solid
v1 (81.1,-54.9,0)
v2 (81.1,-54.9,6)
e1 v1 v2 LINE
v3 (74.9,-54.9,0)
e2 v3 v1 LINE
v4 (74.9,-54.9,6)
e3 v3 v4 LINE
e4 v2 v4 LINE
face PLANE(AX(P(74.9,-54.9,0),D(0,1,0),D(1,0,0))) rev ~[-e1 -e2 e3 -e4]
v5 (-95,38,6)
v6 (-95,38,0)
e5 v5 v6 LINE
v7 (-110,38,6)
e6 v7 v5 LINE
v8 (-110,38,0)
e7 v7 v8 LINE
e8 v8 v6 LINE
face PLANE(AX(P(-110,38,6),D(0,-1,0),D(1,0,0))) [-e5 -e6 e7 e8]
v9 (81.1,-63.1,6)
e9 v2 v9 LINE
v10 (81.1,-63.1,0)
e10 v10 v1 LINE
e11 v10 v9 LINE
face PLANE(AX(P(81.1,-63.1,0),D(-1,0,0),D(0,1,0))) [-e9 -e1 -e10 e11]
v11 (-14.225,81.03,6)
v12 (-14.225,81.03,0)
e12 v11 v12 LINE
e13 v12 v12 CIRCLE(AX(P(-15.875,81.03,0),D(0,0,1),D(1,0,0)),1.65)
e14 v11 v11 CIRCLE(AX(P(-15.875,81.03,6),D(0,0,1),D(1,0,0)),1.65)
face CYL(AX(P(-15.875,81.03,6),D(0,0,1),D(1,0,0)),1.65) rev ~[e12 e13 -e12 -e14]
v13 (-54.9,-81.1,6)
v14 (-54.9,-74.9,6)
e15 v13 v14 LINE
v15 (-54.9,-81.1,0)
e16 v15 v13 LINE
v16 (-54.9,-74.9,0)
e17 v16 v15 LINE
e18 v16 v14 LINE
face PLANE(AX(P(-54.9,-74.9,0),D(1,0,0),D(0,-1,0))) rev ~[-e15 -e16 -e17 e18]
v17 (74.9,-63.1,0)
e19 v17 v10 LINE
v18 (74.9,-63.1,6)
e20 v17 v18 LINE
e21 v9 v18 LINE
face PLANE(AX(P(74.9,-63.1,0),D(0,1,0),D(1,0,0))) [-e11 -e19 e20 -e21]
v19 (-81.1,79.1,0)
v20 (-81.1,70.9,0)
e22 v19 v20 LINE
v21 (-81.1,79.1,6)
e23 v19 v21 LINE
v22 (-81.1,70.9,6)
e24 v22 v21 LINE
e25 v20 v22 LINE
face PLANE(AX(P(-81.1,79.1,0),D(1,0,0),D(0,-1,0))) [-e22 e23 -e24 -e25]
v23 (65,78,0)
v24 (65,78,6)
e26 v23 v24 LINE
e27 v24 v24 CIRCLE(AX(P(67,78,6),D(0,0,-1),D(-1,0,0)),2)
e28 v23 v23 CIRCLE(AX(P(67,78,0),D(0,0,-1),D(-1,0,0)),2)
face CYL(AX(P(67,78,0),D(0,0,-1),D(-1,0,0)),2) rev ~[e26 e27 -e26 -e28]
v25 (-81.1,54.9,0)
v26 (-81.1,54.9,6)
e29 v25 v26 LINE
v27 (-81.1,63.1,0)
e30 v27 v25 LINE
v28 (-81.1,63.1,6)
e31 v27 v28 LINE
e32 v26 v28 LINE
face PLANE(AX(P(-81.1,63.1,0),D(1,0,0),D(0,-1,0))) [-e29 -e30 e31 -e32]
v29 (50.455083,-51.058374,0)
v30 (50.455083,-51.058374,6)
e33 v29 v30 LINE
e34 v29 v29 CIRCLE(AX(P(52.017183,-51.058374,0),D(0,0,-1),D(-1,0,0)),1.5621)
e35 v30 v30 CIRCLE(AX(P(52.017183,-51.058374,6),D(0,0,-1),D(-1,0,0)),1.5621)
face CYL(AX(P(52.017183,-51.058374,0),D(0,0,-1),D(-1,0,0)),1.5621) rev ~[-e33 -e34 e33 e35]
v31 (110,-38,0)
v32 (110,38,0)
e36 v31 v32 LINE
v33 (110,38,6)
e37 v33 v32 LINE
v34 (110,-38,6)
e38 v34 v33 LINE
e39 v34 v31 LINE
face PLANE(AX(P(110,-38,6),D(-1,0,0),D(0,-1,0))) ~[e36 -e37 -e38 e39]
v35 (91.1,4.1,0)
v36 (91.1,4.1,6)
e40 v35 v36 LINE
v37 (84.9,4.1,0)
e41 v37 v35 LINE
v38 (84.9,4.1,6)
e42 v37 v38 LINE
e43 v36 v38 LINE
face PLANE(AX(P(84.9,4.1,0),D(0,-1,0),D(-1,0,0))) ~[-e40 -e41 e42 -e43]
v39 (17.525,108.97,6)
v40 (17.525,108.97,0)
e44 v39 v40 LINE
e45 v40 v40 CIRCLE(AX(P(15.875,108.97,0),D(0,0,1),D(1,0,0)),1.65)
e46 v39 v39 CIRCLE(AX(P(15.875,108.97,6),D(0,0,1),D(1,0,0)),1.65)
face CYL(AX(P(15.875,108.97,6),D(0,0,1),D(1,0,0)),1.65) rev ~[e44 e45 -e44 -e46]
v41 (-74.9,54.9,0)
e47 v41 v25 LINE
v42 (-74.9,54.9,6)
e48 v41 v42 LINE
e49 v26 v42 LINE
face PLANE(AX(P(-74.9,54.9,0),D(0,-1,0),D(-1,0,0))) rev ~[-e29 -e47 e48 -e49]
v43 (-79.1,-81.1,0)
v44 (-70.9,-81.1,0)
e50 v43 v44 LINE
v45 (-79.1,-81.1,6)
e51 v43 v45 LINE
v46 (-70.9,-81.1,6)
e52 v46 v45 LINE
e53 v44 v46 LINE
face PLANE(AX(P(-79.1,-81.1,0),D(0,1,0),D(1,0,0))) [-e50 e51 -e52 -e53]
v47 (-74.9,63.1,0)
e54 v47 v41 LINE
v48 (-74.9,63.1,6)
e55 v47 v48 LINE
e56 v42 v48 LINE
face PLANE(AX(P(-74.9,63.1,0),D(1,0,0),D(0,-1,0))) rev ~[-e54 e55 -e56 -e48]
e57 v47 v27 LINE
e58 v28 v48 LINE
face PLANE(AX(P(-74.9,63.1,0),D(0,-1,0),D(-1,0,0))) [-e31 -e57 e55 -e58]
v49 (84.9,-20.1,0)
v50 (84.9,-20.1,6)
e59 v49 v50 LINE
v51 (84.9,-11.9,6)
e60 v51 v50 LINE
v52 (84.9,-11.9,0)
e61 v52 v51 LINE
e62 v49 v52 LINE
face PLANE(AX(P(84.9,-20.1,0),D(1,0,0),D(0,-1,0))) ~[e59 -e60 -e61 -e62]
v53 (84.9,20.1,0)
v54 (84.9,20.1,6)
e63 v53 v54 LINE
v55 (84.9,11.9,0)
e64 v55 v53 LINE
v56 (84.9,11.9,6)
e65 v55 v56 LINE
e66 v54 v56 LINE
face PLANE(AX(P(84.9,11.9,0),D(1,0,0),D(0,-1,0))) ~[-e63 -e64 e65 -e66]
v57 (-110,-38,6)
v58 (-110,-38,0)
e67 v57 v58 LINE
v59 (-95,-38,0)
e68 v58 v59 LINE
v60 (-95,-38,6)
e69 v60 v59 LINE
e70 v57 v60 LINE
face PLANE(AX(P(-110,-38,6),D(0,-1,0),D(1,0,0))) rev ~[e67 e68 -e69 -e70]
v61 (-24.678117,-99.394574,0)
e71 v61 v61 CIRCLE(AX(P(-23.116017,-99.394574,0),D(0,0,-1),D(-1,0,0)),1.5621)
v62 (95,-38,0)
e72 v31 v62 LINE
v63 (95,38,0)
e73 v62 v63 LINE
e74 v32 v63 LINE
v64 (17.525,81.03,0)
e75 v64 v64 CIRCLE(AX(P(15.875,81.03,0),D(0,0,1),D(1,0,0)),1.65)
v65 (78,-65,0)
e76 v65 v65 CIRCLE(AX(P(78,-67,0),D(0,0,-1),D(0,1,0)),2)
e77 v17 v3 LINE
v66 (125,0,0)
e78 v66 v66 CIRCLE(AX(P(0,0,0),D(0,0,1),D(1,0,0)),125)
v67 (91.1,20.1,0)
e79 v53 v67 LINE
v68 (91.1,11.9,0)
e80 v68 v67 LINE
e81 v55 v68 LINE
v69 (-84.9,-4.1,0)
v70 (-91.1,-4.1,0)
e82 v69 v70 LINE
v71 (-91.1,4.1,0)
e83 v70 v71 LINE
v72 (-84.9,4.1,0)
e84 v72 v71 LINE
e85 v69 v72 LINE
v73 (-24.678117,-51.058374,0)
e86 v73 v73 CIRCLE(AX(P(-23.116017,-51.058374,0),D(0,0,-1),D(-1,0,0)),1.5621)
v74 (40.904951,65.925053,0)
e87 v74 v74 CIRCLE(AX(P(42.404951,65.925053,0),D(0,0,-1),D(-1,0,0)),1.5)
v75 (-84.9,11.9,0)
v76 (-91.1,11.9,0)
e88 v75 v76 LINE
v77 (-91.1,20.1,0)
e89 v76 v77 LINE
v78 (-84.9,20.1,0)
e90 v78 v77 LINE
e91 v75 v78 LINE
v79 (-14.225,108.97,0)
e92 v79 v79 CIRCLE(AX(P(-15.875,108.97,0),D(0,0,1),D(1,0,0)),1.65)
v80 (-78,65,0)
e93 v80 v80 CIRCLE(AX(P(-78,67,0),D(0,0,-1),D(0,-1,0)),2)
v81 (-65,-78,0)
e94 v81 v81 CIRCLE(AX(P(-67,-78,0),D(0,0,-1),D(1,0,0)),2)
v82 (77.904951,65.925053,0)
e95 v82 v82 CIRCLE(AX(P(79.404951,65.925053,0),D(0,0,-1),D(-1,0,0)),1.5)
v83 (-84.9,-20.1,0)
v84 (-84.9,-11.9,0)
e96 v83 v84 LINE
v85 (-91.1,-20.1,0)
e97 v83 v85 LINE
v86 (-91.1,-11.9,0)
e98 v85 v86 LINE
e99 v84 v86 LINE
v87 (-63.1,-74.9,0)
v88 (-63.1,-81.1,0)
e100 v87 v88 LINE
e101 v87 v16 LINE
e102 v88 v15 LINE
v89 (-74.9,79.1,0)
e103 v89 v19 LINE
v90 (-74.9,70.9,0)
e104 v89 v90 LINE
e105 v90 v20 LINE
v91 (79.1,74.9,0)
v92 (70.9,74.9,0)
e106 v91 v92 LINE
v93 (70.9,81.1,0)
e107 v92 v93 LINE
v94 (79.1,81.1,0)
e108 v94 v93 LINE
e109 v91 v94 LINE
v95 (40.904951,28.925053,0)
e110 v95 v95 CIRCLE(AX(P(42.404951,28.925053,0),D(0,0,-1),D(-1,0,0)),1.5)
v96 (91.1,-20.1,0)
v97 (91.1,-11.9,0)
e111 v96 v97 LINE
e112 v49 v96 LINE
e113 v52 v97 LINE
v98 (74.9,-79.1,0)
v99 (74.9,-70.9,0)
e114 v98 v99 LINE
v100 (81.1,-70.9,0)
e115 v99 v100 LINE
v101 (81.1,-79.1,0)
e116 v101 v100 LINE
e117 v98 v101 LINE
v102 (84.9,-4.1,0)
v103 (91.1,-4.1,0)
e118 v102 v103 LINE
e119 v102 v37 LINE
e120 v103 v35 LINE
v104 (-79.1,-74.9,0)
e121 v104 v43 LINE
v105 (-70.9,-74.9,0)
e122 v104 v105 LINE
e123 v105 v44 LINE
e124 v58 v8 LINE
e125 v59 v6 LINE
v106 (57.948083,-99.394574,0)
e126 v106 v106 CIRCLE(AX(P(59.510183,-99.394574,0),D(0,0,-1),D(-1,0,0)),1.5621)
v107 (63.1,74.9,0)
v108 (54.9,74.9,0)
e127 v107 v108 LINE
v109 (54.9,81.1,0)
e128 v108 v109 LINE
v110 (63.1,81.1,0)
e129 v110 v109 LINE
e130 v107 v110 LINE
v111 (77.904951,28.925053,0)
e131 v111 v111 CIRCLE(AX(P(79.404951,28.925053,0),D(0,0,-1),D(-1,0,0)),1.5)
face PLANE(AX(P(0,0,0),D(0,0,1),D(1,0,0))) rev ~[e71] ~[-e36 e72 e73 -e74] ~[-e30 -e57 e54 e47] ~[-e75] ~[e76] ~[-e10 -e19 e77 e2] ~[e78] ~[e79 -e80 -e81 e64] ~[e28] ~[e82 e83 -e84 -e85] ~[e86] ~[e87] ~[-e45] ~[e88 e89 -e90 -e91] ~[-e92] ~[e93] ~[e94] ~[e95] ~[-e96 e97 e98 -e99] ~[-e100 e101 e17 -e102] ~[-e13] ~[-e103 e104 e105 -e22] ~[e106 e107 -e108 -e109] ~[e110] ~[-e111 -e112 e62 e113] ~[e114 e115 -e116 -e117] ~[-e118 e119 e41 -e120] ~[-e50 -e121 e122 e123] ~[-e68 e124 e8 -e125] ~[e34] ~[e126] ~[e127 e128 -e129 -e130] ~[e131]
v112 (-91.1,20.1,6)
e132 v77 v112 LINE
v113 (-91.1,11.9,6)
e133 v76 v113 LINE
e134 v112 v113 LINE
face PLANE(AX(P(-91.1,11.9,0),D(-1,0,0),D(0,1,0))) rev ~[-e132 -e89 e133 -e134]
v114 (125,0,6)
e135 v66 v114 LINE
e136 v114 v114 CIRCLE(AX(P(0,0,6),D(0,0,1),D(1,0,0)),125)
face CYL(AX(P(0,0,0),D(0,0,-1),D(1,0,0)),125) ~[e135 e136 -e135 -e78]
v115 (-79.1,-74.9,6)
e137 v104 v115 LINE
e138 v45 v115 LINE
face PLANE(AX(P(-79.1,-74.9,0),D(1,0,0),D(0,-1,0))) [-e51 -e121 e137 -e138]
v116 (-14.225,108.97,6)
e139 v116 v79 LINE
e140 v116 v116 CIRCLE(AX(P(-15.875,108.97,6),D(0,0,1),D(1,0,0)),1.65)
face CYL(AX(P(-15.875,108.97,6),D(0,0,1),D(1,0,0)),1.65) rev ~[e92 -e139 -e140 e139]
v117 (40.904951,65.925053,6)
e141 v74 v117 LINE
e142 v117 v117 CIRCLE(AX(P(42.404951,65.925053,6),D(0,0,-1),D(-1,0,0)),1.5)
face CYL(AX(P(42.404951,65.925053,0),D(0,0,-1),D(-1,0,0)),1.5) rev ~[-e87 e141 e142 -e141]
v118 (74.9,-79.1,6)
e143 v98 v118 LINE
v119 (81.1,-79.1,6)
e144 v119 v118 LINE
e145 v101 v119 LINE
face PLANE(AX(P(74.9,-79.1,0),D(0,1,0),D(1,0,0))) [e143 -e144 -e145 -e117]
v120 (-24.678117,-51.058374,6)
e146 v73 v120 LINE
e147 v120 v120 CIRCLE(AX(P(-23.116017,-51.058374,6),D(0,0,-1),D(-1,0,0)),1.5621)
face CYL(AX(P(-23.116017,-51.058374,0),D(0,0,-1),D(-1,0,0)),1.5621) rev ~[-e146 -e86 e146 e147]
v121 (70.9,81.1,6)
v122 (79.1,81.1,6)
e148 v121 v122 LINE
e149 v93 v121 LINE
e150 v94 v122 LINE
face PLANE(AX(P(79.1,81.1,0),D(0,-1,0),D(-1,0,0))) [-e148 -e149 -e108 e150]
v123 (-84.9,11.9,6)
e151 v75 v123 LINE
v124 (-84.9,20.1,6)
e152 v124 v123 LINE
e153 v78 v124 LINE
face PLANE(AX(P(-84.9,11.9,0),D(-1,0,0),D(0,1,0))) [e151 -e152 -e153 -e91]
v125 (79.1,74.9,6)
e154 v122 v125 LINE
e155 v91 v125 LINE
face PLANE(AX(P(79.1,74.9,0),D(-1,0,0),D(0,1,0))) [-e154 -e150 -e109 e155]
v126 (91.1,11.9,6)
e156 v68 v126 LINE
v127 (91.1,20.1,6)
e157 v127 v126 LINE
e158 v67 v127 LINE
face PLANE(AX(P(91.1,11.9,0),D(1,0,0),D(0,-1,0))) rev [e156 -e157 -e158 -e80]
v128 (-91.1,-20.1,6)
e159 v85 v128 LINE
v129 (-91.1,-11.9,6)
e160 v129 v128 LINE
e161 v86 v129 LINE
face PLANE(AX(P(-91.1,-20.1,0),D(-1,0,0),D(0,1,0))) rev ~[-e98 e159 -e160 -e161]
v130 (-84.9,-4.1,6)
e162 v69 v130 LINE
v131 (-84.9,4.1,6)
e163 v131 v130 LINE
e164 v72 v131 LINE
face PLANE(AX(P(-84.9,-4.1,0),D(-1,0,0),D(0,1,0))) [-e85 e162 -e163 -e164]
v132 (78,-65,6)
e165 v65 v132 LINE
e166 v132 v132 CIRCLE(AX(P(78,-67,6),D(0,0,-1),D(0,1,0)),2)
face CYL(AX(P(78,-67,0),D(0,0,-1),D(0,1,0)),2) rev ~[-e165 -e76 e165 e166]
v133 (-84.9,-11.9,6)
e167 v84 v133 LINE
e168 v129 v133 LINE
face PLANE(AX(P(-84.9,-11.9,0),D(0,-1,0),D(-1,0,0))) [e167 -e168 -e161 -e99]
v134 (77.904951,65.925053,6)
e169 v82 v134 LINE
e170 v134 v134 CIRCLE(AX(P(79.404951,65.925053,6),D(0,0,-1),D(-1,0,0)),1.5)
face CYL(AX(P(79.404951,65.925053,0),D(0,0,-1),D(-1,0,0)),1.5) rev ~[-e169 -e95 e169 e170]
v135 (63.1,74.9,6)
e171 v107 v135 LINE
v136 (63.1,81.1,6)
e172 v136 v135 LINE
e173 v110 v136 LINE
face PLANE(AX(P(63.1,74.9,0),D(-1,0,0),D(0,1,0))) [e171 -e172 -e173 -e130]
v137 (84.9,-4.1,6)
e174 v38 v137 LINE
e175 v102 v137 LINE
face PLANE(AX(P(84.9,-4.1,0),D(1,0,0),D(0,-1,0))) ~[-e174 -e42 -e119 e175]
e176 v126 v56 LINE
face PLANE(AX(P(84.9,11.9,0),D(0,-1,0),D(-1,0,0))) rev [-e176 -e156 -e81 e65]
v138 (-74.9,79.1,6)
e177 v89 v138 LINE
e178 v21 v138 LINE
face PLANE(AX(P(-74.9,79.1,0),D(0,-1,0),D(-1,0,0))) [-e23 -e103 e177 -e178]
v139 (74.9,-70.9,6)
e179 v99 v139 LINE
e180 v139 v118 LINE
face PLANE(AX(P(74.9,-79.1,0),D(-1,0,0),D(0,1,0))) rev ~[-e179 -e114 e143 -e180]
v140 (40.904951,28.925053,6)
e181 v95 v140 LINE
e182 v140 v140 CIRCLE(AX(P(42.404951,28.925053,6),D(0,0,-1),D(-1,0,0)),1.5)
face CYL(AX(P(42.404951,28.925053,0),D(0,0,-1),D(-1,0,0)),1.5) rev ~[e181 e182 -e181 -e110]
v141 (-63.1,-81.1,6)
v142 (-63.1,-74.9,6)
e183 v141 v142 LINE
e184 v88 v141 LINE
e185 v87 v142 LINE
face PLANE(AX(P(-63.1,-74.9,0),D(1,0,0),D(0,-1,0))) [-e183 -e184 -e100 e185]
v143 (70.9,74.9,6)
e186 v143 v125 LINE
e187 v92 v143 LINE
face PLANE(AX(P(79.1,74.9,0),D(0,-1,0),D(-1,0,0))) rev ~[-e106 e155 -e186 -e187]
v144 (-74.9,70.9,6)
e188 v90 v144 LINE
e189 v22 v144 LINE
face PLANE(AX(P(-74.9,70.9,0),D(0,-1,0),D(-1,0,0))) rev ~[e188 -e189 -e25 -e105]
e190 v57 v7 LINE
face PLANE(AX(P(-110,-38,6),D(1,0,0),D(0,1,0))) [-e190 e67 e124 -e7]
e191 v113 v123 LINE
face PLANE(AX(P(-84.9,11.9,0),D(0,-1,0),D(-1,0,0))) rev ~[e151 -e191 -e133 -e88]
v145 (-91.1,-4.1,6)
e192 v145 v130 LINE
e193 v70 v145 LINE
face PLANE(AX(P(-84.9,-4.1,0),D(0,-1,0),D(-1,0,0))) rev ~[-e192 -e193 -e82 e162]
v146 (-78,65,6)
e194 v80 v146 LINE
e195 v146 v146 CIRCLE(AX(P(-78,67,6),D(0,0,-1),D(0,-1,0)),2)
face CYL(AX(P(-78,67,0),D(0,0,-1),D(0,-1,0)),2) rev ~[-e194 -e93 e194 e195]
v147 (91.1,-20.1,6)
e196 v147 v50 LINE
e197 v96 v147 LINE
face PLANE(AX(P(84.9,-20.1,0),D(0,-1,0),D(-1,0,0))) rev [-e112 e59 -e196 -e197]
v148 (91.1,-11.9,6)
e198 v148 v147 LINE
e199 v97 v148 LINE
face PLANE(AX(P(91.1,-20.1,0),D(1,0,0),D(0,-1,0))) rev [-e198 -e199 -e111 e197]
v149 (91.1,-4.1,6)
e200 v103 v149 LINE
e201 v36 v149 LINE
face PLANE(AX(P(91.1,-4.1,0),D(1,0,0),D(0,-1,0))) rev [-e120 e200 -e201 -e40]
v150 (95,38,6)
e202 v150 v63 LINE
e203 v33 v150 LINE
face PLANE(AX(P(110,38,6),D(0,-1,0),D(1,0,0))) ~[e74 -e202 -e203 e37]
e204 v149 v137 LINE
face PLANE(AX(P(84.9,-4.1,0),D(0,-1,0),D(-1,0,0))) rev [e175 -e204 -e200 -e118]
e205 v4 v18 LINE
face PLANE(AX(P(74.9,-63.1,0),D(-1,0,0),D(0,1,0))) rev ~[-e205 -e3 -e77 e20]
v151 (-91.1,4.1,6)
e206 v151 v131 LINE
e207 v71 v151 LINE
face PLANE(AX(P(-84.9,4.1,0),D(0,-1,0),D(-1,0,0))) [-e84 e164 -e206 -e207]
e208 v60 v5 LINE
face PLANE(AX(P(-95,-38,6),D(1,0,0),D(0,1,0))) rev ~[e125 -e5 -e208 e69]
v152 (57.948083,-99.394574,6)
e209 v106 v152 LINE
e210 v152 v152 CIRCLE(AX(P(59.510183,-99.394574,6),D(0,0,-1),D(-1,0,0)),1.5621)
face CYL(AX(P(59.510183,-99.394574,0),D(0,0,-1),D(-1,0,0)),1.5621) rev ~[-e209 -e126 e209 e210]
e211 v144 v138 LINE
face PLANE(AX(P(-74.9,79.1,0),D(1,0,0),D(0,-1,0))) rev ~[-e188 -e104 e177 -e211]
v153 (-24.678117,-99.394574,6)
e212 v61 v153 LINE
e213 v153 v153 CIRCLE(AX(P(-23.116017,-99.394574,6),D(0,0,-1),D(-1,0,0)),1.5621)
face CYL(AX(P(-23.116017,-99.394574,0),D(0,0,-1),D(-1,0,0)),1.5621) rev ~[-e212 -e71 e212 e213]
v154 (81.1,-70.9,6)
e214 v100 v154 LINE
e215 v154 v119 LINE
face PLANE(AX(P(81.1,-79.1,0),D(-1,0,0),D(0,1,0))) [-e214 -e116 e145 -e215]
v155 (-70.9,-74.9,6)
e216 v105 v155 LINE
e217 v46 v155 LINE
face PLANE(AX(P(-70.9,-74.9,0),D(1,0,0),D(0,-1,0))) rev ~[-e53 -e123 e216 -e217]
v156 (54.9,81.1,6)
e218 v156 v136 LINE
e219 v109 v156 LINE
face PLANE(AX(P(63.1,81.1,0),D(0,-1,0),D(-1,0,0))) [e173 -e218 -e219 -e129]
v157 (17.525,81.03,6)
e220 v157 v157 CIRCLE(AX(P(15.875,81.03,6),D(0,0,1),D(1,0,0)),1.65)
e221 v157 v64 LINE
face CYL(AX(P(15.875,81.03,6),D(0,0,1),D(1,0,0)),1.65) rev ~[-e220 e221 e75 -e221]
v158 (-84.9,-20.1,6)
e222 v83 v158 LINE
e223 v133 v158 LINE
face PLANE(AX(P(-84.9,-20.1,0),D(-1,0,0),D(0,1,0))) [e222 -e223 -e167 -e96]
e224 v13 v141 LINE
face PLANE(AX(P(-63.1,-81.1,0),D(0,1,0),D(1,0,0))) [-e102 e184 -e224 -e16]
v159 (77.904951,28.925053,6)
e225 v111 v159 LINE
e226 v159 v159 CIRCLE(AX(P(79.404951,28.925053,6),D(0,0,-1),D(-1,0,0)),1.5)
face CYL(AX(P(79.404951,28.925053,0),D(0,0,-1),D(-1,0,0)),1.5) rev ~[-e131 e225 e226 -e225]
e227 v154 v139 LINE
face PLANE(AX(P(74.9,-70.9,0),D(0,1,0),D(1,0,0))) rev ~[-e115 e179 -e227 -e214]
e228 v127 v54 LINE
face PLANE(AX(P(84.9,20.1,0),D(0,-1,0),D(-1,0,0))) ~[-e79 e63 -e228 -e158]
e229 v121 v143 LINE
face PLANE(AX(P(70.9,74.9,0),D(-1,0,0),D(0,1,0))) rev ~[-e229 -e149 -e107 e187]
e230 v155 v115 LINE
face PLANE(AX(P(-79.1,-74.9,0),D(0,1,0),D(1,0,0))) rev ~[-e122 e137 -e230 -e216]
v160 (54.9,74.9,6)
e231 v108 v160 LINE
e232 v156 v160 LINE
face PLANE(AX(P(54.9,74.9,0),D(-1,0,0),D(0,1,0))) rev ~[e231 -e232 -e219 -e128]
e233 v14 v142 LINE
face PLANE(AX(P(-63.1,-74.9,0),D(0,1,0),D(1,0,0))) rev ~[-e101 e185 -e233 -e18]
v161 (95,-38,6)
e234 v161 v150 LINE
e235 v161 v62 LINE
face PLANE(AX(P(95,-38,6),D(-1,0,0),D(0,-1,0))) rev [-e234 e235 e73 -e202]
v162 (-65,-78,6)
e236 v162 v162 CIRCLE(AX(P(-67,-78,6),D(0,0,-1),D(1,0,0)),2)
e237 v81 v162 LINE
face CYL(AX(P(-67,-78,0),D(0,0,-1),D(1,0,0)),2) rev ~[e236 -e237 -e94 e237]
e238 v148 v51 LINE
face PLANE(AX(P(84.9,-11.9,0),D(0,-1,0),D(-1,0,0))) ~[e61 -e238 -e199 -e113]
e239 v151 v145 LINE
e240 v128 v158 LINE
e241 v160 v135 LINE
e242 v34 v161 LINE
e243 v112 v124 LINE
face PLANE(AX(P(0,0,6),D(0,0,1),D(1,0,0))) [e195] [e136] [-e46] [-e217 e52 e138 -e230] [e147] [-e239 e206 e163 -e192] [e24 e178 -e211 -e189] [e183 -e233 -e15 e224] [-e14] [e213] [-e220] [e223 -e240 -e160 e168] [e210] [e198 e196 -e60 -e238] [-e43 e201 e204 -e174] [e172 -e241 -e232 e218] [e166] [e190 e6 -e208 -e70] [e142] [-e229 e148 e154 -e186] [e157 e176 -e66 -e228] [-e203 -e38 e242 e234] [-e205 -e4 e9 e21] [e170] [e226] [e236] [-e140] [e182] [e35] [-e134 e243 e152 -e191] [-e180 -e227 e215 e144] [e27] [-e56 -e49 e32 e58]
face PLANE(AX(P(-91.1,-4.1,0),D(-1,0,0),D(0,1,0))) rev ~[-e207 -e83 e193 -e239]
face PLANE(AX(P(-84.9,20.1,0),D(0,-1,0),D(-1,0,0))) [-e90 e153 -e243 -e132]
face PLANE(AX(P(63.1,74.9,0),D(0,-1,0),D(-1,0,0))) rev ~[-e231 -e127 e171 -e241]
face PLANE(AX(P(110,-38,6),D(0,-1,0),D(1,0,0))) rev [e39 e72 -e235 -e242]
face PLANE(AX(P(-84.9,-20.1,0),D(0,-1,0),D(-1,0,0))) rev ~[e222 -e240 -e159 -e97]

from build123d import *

# Parameters (mm, degrees)
ESQUISSE1_R                  = 125
BOSS_EXTRU_1_DEPTH           = 6
ESQUISSE2_W                  = 15
ESQUISSE2_H                  = 76
ENL_V_MAT_EXTRU_1_DEPTH      = 177.878489365
ESQUISSE3_R                  = 2
ESQUISSE3_W                  = 8.2
ESQUISSE3_H                  = 6.2
ENL_V_MAT_EXTRU_2_DEPTH      = 177.878489365
R_P_TITION_CIRCULAIRE1_COUNT = 4
ESQUISSE4_W                  = 6.2
ESQUISSE4_H                  = 8.2
ENL_V_MAT_EXTRU_3_DEPTH      = 177.878489365
ESQUISSE7_R                  = 1.5621
ENL_V_MAT_EXTRU_6_DEPTH      = 6
ESQUISSE8_R                  = 1.5
ENL_V_MAT_EXTRU_7_DEPTH      = 10
ENL_V_MAT_EXTRU_8_REACH      = 178.878
ESQUISSE9_R                  = 1.65


with BuildPart() as part:
    # Esquisse1 → Boss.-Extru.1 (new body)
    with BuildSketch(Plane.XY):
        Circle(ESQUISSE1_R)
    extrude(amount=BOSS_EXTRU_1_DEPTH)

    # Esquisse2 → Enlèv. mat.-Extru.1 (cut, through all)
    with BuildSketch(Plane.XY.offset(6)):
        with Locations((-102.5, 0)):
            Rectangle(ESQUISSE2_W, ESQUISSE2_H)
    enl_v_mat_extru_1 = extrude(amount=-ENL_V_MAT_EXTRU_1_DEPTH, mode=Mode.SUBTRACT)

    # Symétrie1: Enlèv. mat.-Extru.1 across plane
    add(enl_v_mat_extru_1.mirror(Plane(origin=(0, 0, 0), x_dir=(0, 0, 1), z_dir=(1, 0, 0))), mode=Mode.SUBTRACT)

    # Esquisse3 → Enlèv. mat.-Extru.2 (cut, through all)
    with BuildSketch(Plane(origin=(0, 0, 0), x_dir=(-1, 0, 0), z_dir=(0, 0, -1))):
        with Locations((-67, 78)):
            Circle(ESQUISSE3_R)
        with Locations((-75, 78)):
            Rectangle(ESQUISSE3_W, ESQUISSE3_H)
        with Locations((-59, 78)):
            Rectangle(ESQUISSE3_W, ESQUISSE3_H)
    enl_v_mat_extru_2 = extrude(amount=-ENL_V_MAT_EXTRU_2_DEPTH, mode=Mode.SUBTRACT)

    # Répétition circulaire1: Enlèv. mat.-Extru.2 ×4 about axis
    r_p_tition_circulaire1_axis = Axis((0, 0, -0.25), (0, 0, 1))
    for i in range(1, R_P_TITION_CIRCULAIRE1_COUNT):
        add(enl_v_mat_extru_2.rotate(r_p_tition_circulaire1_axis, i * 360 / R_P_TITION_CIRCULAIRE1_COUNT), mode=Mode.SUBTRACT)

    # Esquisse4 → Enlèv. mat.-Extru.3 (cut, through all)
    with BuildSketch(Plane(origin=(0, 0, 0), x_dir=(-1, 0, 0), z_dir=(0, 0, -1))):
        with Locations((88, 16)):
            Rectangle(ESQUISSE4_W, ESQUISSE4_H)
        with Locations((88, -16)):
            Rectangle(ESQUISSE4_W, ESQUISSE4_H)
        with Locations((88, 0)):
            Rectangle(ESQUISSE4_W, ESQUISSE4_H)
    enl_v_mat_extru_3 = extrude(amount=-ENL_V_MAT_EXTRU_3_DEPTH, mode=Mode.SUBTRACT)

    # Symétrie2: Enlèv. mat.-Extru.3 across plane
    add(enl_v_mat_extru_3.mirror(Plane(origin=(0, 0, 0), x_dir=(0, 0, 1), z_dir=(1, 0, 0))), mode=Mode.SUBTRACT)

    # Esquisse7 → Enlèv. mat.-Extru.6 (cut)
    with BuildSketch(Plane(origin=(0, 0, 0), x_dir=(-1, 0, 0), z_dir=(0, 0, -1))):
        with Locations((23.116017499, -99.394574208)):
            Circle(ESQUISSE7_R)
        with Locations((23.116017499, -51.058374208)):
            Circle(ESQUISSE7_R)
        with Locations((-52.017182501, -51.058374208)):
            Circle(ESQUISSE7_R)
        with Locations((-59.510182501, -99.394574208)):
            Circle(ESQUISSE7_R)
    extrude(amount=-ENL_V_MAT_EXTRU_6_DEPTH, mode=Mode.SUBTRACT)

    # Esquisse8 → Enlèv. mat.-Extru.7 (cut)
    with BuildSketch(Plane(origin=(0, 0, 0), x_dir=(-1, 0, 0), z_dir=(0, 0, -1))):
        with Locations((-79.404950976, 65.925052584)):
            Circle(ESQUISSE8_R)
        with Locations((-42.404950976, 65.925052584)):
            Circle(ESQUISSE8_R)
        with Locations((-42.404950976, 28.925052584)):
            Circle(ESQUISSE8_R)
        with Locations((-79.404950976, 28.925052584)):
            Circle(ESQUISSE8_R)
    extrude(amount=-ENL_V_MAT_EXTRU_7_DEPTH, mode=Mode.SUBTRACT)

    # Esquisse9 → Enlèv. mat.-Extru.8 (cut, up to next)
    with BuildSketch(Plane.XY.offset(6), mode=Mode.PRIVATE) as enl_v_mat_extru_8_sk1:
        with Locations((-15.875, 108.97)):
            Circle(ESQUISSE9_R)
    enl_v_mat_extru_8_tool1 = extrude(enl_v_mat_extru_8_sk1.sketch, amount=-ENL_V_MAT_EXTRU_8_REACH, mode=Mode.PRIVATE) & part.part
    # Esquisse9 → Enlèv. mat.-Extru.8 (cut, up to next)
    with BuildSketch(Plane.XY.offset(6), mode=Mode.PRIVATE) as enl_v_mat_extru_8_sk2:
        with Locations((15.875, 108.97)):
            Circle(ESQUISSE9_R)
    enl_v_mat_extru_8_tool2 = extrude(enl_v_mat_extru_8_sk2.sketch, amount=-ENL_V_MAT_EXTRU_8_REACH, mode=Mode.PRIVATE) & part.part
    # Esquisse9 → Enlèv. mat.-Extru.8 (cut, up to next)
    with BuildSketch(Plane.XY.offset(6), mode=Mode.PRIVATE) as enl_v_mat_extru_8_sk3:
        with Locations((15.875, 81.03)):
            Circle(ESQUISSE9_R)
    enl_v_mat_extru_8_tool3 = extrude(enl_v_mat_extru_8_sk3.sketch, amount=-ENL_V_MAT_EXTRU_8_REACH, mode=Mode.PRIVATE) & part.part
    # Esquisse9 → Enlèv. mat.-Extru.8 (cut, up to next)
    with BuildSketch(Plane.XY.offset(6), mode=Mode.PRIVATE) as enl_v_mat_extru_8_sk4:
        with Locations((-15.875, 81.03)):
            Circle(ESQUISSE9_R)
    enl_v_mat_extru_8_tool4 = extrude(enl_v_mat_extru_8_sk4.sketch, amount=-ENL_V_MAT_EXTRU_8_REACH, mode=Mode.PRIVATE) & part.part
    add(enl_v_mat_extru_8_tool1.solids().sort_by_distance((-15.875, 108.97, 6))[0], mode=Mode.SUBTRACT)
    add(enl_v_mat_extru_8_tool2.solids().sort_by_distance((15.875, 108.97, 6))[0], mode=Mode.SUBTRACT)
    add(enl_v_mat_extru_8_tool3.solids().sort_by_distance((15.875, 81.03, 6))[0], mode=Mode.SUBTRACT)
    add(enl_v_mat_extru_8_tool4.solids().sort_by_distance((-15.875, 81.03, 6))[0], mode=Mode.SUBTRACT)


solid = part.part
